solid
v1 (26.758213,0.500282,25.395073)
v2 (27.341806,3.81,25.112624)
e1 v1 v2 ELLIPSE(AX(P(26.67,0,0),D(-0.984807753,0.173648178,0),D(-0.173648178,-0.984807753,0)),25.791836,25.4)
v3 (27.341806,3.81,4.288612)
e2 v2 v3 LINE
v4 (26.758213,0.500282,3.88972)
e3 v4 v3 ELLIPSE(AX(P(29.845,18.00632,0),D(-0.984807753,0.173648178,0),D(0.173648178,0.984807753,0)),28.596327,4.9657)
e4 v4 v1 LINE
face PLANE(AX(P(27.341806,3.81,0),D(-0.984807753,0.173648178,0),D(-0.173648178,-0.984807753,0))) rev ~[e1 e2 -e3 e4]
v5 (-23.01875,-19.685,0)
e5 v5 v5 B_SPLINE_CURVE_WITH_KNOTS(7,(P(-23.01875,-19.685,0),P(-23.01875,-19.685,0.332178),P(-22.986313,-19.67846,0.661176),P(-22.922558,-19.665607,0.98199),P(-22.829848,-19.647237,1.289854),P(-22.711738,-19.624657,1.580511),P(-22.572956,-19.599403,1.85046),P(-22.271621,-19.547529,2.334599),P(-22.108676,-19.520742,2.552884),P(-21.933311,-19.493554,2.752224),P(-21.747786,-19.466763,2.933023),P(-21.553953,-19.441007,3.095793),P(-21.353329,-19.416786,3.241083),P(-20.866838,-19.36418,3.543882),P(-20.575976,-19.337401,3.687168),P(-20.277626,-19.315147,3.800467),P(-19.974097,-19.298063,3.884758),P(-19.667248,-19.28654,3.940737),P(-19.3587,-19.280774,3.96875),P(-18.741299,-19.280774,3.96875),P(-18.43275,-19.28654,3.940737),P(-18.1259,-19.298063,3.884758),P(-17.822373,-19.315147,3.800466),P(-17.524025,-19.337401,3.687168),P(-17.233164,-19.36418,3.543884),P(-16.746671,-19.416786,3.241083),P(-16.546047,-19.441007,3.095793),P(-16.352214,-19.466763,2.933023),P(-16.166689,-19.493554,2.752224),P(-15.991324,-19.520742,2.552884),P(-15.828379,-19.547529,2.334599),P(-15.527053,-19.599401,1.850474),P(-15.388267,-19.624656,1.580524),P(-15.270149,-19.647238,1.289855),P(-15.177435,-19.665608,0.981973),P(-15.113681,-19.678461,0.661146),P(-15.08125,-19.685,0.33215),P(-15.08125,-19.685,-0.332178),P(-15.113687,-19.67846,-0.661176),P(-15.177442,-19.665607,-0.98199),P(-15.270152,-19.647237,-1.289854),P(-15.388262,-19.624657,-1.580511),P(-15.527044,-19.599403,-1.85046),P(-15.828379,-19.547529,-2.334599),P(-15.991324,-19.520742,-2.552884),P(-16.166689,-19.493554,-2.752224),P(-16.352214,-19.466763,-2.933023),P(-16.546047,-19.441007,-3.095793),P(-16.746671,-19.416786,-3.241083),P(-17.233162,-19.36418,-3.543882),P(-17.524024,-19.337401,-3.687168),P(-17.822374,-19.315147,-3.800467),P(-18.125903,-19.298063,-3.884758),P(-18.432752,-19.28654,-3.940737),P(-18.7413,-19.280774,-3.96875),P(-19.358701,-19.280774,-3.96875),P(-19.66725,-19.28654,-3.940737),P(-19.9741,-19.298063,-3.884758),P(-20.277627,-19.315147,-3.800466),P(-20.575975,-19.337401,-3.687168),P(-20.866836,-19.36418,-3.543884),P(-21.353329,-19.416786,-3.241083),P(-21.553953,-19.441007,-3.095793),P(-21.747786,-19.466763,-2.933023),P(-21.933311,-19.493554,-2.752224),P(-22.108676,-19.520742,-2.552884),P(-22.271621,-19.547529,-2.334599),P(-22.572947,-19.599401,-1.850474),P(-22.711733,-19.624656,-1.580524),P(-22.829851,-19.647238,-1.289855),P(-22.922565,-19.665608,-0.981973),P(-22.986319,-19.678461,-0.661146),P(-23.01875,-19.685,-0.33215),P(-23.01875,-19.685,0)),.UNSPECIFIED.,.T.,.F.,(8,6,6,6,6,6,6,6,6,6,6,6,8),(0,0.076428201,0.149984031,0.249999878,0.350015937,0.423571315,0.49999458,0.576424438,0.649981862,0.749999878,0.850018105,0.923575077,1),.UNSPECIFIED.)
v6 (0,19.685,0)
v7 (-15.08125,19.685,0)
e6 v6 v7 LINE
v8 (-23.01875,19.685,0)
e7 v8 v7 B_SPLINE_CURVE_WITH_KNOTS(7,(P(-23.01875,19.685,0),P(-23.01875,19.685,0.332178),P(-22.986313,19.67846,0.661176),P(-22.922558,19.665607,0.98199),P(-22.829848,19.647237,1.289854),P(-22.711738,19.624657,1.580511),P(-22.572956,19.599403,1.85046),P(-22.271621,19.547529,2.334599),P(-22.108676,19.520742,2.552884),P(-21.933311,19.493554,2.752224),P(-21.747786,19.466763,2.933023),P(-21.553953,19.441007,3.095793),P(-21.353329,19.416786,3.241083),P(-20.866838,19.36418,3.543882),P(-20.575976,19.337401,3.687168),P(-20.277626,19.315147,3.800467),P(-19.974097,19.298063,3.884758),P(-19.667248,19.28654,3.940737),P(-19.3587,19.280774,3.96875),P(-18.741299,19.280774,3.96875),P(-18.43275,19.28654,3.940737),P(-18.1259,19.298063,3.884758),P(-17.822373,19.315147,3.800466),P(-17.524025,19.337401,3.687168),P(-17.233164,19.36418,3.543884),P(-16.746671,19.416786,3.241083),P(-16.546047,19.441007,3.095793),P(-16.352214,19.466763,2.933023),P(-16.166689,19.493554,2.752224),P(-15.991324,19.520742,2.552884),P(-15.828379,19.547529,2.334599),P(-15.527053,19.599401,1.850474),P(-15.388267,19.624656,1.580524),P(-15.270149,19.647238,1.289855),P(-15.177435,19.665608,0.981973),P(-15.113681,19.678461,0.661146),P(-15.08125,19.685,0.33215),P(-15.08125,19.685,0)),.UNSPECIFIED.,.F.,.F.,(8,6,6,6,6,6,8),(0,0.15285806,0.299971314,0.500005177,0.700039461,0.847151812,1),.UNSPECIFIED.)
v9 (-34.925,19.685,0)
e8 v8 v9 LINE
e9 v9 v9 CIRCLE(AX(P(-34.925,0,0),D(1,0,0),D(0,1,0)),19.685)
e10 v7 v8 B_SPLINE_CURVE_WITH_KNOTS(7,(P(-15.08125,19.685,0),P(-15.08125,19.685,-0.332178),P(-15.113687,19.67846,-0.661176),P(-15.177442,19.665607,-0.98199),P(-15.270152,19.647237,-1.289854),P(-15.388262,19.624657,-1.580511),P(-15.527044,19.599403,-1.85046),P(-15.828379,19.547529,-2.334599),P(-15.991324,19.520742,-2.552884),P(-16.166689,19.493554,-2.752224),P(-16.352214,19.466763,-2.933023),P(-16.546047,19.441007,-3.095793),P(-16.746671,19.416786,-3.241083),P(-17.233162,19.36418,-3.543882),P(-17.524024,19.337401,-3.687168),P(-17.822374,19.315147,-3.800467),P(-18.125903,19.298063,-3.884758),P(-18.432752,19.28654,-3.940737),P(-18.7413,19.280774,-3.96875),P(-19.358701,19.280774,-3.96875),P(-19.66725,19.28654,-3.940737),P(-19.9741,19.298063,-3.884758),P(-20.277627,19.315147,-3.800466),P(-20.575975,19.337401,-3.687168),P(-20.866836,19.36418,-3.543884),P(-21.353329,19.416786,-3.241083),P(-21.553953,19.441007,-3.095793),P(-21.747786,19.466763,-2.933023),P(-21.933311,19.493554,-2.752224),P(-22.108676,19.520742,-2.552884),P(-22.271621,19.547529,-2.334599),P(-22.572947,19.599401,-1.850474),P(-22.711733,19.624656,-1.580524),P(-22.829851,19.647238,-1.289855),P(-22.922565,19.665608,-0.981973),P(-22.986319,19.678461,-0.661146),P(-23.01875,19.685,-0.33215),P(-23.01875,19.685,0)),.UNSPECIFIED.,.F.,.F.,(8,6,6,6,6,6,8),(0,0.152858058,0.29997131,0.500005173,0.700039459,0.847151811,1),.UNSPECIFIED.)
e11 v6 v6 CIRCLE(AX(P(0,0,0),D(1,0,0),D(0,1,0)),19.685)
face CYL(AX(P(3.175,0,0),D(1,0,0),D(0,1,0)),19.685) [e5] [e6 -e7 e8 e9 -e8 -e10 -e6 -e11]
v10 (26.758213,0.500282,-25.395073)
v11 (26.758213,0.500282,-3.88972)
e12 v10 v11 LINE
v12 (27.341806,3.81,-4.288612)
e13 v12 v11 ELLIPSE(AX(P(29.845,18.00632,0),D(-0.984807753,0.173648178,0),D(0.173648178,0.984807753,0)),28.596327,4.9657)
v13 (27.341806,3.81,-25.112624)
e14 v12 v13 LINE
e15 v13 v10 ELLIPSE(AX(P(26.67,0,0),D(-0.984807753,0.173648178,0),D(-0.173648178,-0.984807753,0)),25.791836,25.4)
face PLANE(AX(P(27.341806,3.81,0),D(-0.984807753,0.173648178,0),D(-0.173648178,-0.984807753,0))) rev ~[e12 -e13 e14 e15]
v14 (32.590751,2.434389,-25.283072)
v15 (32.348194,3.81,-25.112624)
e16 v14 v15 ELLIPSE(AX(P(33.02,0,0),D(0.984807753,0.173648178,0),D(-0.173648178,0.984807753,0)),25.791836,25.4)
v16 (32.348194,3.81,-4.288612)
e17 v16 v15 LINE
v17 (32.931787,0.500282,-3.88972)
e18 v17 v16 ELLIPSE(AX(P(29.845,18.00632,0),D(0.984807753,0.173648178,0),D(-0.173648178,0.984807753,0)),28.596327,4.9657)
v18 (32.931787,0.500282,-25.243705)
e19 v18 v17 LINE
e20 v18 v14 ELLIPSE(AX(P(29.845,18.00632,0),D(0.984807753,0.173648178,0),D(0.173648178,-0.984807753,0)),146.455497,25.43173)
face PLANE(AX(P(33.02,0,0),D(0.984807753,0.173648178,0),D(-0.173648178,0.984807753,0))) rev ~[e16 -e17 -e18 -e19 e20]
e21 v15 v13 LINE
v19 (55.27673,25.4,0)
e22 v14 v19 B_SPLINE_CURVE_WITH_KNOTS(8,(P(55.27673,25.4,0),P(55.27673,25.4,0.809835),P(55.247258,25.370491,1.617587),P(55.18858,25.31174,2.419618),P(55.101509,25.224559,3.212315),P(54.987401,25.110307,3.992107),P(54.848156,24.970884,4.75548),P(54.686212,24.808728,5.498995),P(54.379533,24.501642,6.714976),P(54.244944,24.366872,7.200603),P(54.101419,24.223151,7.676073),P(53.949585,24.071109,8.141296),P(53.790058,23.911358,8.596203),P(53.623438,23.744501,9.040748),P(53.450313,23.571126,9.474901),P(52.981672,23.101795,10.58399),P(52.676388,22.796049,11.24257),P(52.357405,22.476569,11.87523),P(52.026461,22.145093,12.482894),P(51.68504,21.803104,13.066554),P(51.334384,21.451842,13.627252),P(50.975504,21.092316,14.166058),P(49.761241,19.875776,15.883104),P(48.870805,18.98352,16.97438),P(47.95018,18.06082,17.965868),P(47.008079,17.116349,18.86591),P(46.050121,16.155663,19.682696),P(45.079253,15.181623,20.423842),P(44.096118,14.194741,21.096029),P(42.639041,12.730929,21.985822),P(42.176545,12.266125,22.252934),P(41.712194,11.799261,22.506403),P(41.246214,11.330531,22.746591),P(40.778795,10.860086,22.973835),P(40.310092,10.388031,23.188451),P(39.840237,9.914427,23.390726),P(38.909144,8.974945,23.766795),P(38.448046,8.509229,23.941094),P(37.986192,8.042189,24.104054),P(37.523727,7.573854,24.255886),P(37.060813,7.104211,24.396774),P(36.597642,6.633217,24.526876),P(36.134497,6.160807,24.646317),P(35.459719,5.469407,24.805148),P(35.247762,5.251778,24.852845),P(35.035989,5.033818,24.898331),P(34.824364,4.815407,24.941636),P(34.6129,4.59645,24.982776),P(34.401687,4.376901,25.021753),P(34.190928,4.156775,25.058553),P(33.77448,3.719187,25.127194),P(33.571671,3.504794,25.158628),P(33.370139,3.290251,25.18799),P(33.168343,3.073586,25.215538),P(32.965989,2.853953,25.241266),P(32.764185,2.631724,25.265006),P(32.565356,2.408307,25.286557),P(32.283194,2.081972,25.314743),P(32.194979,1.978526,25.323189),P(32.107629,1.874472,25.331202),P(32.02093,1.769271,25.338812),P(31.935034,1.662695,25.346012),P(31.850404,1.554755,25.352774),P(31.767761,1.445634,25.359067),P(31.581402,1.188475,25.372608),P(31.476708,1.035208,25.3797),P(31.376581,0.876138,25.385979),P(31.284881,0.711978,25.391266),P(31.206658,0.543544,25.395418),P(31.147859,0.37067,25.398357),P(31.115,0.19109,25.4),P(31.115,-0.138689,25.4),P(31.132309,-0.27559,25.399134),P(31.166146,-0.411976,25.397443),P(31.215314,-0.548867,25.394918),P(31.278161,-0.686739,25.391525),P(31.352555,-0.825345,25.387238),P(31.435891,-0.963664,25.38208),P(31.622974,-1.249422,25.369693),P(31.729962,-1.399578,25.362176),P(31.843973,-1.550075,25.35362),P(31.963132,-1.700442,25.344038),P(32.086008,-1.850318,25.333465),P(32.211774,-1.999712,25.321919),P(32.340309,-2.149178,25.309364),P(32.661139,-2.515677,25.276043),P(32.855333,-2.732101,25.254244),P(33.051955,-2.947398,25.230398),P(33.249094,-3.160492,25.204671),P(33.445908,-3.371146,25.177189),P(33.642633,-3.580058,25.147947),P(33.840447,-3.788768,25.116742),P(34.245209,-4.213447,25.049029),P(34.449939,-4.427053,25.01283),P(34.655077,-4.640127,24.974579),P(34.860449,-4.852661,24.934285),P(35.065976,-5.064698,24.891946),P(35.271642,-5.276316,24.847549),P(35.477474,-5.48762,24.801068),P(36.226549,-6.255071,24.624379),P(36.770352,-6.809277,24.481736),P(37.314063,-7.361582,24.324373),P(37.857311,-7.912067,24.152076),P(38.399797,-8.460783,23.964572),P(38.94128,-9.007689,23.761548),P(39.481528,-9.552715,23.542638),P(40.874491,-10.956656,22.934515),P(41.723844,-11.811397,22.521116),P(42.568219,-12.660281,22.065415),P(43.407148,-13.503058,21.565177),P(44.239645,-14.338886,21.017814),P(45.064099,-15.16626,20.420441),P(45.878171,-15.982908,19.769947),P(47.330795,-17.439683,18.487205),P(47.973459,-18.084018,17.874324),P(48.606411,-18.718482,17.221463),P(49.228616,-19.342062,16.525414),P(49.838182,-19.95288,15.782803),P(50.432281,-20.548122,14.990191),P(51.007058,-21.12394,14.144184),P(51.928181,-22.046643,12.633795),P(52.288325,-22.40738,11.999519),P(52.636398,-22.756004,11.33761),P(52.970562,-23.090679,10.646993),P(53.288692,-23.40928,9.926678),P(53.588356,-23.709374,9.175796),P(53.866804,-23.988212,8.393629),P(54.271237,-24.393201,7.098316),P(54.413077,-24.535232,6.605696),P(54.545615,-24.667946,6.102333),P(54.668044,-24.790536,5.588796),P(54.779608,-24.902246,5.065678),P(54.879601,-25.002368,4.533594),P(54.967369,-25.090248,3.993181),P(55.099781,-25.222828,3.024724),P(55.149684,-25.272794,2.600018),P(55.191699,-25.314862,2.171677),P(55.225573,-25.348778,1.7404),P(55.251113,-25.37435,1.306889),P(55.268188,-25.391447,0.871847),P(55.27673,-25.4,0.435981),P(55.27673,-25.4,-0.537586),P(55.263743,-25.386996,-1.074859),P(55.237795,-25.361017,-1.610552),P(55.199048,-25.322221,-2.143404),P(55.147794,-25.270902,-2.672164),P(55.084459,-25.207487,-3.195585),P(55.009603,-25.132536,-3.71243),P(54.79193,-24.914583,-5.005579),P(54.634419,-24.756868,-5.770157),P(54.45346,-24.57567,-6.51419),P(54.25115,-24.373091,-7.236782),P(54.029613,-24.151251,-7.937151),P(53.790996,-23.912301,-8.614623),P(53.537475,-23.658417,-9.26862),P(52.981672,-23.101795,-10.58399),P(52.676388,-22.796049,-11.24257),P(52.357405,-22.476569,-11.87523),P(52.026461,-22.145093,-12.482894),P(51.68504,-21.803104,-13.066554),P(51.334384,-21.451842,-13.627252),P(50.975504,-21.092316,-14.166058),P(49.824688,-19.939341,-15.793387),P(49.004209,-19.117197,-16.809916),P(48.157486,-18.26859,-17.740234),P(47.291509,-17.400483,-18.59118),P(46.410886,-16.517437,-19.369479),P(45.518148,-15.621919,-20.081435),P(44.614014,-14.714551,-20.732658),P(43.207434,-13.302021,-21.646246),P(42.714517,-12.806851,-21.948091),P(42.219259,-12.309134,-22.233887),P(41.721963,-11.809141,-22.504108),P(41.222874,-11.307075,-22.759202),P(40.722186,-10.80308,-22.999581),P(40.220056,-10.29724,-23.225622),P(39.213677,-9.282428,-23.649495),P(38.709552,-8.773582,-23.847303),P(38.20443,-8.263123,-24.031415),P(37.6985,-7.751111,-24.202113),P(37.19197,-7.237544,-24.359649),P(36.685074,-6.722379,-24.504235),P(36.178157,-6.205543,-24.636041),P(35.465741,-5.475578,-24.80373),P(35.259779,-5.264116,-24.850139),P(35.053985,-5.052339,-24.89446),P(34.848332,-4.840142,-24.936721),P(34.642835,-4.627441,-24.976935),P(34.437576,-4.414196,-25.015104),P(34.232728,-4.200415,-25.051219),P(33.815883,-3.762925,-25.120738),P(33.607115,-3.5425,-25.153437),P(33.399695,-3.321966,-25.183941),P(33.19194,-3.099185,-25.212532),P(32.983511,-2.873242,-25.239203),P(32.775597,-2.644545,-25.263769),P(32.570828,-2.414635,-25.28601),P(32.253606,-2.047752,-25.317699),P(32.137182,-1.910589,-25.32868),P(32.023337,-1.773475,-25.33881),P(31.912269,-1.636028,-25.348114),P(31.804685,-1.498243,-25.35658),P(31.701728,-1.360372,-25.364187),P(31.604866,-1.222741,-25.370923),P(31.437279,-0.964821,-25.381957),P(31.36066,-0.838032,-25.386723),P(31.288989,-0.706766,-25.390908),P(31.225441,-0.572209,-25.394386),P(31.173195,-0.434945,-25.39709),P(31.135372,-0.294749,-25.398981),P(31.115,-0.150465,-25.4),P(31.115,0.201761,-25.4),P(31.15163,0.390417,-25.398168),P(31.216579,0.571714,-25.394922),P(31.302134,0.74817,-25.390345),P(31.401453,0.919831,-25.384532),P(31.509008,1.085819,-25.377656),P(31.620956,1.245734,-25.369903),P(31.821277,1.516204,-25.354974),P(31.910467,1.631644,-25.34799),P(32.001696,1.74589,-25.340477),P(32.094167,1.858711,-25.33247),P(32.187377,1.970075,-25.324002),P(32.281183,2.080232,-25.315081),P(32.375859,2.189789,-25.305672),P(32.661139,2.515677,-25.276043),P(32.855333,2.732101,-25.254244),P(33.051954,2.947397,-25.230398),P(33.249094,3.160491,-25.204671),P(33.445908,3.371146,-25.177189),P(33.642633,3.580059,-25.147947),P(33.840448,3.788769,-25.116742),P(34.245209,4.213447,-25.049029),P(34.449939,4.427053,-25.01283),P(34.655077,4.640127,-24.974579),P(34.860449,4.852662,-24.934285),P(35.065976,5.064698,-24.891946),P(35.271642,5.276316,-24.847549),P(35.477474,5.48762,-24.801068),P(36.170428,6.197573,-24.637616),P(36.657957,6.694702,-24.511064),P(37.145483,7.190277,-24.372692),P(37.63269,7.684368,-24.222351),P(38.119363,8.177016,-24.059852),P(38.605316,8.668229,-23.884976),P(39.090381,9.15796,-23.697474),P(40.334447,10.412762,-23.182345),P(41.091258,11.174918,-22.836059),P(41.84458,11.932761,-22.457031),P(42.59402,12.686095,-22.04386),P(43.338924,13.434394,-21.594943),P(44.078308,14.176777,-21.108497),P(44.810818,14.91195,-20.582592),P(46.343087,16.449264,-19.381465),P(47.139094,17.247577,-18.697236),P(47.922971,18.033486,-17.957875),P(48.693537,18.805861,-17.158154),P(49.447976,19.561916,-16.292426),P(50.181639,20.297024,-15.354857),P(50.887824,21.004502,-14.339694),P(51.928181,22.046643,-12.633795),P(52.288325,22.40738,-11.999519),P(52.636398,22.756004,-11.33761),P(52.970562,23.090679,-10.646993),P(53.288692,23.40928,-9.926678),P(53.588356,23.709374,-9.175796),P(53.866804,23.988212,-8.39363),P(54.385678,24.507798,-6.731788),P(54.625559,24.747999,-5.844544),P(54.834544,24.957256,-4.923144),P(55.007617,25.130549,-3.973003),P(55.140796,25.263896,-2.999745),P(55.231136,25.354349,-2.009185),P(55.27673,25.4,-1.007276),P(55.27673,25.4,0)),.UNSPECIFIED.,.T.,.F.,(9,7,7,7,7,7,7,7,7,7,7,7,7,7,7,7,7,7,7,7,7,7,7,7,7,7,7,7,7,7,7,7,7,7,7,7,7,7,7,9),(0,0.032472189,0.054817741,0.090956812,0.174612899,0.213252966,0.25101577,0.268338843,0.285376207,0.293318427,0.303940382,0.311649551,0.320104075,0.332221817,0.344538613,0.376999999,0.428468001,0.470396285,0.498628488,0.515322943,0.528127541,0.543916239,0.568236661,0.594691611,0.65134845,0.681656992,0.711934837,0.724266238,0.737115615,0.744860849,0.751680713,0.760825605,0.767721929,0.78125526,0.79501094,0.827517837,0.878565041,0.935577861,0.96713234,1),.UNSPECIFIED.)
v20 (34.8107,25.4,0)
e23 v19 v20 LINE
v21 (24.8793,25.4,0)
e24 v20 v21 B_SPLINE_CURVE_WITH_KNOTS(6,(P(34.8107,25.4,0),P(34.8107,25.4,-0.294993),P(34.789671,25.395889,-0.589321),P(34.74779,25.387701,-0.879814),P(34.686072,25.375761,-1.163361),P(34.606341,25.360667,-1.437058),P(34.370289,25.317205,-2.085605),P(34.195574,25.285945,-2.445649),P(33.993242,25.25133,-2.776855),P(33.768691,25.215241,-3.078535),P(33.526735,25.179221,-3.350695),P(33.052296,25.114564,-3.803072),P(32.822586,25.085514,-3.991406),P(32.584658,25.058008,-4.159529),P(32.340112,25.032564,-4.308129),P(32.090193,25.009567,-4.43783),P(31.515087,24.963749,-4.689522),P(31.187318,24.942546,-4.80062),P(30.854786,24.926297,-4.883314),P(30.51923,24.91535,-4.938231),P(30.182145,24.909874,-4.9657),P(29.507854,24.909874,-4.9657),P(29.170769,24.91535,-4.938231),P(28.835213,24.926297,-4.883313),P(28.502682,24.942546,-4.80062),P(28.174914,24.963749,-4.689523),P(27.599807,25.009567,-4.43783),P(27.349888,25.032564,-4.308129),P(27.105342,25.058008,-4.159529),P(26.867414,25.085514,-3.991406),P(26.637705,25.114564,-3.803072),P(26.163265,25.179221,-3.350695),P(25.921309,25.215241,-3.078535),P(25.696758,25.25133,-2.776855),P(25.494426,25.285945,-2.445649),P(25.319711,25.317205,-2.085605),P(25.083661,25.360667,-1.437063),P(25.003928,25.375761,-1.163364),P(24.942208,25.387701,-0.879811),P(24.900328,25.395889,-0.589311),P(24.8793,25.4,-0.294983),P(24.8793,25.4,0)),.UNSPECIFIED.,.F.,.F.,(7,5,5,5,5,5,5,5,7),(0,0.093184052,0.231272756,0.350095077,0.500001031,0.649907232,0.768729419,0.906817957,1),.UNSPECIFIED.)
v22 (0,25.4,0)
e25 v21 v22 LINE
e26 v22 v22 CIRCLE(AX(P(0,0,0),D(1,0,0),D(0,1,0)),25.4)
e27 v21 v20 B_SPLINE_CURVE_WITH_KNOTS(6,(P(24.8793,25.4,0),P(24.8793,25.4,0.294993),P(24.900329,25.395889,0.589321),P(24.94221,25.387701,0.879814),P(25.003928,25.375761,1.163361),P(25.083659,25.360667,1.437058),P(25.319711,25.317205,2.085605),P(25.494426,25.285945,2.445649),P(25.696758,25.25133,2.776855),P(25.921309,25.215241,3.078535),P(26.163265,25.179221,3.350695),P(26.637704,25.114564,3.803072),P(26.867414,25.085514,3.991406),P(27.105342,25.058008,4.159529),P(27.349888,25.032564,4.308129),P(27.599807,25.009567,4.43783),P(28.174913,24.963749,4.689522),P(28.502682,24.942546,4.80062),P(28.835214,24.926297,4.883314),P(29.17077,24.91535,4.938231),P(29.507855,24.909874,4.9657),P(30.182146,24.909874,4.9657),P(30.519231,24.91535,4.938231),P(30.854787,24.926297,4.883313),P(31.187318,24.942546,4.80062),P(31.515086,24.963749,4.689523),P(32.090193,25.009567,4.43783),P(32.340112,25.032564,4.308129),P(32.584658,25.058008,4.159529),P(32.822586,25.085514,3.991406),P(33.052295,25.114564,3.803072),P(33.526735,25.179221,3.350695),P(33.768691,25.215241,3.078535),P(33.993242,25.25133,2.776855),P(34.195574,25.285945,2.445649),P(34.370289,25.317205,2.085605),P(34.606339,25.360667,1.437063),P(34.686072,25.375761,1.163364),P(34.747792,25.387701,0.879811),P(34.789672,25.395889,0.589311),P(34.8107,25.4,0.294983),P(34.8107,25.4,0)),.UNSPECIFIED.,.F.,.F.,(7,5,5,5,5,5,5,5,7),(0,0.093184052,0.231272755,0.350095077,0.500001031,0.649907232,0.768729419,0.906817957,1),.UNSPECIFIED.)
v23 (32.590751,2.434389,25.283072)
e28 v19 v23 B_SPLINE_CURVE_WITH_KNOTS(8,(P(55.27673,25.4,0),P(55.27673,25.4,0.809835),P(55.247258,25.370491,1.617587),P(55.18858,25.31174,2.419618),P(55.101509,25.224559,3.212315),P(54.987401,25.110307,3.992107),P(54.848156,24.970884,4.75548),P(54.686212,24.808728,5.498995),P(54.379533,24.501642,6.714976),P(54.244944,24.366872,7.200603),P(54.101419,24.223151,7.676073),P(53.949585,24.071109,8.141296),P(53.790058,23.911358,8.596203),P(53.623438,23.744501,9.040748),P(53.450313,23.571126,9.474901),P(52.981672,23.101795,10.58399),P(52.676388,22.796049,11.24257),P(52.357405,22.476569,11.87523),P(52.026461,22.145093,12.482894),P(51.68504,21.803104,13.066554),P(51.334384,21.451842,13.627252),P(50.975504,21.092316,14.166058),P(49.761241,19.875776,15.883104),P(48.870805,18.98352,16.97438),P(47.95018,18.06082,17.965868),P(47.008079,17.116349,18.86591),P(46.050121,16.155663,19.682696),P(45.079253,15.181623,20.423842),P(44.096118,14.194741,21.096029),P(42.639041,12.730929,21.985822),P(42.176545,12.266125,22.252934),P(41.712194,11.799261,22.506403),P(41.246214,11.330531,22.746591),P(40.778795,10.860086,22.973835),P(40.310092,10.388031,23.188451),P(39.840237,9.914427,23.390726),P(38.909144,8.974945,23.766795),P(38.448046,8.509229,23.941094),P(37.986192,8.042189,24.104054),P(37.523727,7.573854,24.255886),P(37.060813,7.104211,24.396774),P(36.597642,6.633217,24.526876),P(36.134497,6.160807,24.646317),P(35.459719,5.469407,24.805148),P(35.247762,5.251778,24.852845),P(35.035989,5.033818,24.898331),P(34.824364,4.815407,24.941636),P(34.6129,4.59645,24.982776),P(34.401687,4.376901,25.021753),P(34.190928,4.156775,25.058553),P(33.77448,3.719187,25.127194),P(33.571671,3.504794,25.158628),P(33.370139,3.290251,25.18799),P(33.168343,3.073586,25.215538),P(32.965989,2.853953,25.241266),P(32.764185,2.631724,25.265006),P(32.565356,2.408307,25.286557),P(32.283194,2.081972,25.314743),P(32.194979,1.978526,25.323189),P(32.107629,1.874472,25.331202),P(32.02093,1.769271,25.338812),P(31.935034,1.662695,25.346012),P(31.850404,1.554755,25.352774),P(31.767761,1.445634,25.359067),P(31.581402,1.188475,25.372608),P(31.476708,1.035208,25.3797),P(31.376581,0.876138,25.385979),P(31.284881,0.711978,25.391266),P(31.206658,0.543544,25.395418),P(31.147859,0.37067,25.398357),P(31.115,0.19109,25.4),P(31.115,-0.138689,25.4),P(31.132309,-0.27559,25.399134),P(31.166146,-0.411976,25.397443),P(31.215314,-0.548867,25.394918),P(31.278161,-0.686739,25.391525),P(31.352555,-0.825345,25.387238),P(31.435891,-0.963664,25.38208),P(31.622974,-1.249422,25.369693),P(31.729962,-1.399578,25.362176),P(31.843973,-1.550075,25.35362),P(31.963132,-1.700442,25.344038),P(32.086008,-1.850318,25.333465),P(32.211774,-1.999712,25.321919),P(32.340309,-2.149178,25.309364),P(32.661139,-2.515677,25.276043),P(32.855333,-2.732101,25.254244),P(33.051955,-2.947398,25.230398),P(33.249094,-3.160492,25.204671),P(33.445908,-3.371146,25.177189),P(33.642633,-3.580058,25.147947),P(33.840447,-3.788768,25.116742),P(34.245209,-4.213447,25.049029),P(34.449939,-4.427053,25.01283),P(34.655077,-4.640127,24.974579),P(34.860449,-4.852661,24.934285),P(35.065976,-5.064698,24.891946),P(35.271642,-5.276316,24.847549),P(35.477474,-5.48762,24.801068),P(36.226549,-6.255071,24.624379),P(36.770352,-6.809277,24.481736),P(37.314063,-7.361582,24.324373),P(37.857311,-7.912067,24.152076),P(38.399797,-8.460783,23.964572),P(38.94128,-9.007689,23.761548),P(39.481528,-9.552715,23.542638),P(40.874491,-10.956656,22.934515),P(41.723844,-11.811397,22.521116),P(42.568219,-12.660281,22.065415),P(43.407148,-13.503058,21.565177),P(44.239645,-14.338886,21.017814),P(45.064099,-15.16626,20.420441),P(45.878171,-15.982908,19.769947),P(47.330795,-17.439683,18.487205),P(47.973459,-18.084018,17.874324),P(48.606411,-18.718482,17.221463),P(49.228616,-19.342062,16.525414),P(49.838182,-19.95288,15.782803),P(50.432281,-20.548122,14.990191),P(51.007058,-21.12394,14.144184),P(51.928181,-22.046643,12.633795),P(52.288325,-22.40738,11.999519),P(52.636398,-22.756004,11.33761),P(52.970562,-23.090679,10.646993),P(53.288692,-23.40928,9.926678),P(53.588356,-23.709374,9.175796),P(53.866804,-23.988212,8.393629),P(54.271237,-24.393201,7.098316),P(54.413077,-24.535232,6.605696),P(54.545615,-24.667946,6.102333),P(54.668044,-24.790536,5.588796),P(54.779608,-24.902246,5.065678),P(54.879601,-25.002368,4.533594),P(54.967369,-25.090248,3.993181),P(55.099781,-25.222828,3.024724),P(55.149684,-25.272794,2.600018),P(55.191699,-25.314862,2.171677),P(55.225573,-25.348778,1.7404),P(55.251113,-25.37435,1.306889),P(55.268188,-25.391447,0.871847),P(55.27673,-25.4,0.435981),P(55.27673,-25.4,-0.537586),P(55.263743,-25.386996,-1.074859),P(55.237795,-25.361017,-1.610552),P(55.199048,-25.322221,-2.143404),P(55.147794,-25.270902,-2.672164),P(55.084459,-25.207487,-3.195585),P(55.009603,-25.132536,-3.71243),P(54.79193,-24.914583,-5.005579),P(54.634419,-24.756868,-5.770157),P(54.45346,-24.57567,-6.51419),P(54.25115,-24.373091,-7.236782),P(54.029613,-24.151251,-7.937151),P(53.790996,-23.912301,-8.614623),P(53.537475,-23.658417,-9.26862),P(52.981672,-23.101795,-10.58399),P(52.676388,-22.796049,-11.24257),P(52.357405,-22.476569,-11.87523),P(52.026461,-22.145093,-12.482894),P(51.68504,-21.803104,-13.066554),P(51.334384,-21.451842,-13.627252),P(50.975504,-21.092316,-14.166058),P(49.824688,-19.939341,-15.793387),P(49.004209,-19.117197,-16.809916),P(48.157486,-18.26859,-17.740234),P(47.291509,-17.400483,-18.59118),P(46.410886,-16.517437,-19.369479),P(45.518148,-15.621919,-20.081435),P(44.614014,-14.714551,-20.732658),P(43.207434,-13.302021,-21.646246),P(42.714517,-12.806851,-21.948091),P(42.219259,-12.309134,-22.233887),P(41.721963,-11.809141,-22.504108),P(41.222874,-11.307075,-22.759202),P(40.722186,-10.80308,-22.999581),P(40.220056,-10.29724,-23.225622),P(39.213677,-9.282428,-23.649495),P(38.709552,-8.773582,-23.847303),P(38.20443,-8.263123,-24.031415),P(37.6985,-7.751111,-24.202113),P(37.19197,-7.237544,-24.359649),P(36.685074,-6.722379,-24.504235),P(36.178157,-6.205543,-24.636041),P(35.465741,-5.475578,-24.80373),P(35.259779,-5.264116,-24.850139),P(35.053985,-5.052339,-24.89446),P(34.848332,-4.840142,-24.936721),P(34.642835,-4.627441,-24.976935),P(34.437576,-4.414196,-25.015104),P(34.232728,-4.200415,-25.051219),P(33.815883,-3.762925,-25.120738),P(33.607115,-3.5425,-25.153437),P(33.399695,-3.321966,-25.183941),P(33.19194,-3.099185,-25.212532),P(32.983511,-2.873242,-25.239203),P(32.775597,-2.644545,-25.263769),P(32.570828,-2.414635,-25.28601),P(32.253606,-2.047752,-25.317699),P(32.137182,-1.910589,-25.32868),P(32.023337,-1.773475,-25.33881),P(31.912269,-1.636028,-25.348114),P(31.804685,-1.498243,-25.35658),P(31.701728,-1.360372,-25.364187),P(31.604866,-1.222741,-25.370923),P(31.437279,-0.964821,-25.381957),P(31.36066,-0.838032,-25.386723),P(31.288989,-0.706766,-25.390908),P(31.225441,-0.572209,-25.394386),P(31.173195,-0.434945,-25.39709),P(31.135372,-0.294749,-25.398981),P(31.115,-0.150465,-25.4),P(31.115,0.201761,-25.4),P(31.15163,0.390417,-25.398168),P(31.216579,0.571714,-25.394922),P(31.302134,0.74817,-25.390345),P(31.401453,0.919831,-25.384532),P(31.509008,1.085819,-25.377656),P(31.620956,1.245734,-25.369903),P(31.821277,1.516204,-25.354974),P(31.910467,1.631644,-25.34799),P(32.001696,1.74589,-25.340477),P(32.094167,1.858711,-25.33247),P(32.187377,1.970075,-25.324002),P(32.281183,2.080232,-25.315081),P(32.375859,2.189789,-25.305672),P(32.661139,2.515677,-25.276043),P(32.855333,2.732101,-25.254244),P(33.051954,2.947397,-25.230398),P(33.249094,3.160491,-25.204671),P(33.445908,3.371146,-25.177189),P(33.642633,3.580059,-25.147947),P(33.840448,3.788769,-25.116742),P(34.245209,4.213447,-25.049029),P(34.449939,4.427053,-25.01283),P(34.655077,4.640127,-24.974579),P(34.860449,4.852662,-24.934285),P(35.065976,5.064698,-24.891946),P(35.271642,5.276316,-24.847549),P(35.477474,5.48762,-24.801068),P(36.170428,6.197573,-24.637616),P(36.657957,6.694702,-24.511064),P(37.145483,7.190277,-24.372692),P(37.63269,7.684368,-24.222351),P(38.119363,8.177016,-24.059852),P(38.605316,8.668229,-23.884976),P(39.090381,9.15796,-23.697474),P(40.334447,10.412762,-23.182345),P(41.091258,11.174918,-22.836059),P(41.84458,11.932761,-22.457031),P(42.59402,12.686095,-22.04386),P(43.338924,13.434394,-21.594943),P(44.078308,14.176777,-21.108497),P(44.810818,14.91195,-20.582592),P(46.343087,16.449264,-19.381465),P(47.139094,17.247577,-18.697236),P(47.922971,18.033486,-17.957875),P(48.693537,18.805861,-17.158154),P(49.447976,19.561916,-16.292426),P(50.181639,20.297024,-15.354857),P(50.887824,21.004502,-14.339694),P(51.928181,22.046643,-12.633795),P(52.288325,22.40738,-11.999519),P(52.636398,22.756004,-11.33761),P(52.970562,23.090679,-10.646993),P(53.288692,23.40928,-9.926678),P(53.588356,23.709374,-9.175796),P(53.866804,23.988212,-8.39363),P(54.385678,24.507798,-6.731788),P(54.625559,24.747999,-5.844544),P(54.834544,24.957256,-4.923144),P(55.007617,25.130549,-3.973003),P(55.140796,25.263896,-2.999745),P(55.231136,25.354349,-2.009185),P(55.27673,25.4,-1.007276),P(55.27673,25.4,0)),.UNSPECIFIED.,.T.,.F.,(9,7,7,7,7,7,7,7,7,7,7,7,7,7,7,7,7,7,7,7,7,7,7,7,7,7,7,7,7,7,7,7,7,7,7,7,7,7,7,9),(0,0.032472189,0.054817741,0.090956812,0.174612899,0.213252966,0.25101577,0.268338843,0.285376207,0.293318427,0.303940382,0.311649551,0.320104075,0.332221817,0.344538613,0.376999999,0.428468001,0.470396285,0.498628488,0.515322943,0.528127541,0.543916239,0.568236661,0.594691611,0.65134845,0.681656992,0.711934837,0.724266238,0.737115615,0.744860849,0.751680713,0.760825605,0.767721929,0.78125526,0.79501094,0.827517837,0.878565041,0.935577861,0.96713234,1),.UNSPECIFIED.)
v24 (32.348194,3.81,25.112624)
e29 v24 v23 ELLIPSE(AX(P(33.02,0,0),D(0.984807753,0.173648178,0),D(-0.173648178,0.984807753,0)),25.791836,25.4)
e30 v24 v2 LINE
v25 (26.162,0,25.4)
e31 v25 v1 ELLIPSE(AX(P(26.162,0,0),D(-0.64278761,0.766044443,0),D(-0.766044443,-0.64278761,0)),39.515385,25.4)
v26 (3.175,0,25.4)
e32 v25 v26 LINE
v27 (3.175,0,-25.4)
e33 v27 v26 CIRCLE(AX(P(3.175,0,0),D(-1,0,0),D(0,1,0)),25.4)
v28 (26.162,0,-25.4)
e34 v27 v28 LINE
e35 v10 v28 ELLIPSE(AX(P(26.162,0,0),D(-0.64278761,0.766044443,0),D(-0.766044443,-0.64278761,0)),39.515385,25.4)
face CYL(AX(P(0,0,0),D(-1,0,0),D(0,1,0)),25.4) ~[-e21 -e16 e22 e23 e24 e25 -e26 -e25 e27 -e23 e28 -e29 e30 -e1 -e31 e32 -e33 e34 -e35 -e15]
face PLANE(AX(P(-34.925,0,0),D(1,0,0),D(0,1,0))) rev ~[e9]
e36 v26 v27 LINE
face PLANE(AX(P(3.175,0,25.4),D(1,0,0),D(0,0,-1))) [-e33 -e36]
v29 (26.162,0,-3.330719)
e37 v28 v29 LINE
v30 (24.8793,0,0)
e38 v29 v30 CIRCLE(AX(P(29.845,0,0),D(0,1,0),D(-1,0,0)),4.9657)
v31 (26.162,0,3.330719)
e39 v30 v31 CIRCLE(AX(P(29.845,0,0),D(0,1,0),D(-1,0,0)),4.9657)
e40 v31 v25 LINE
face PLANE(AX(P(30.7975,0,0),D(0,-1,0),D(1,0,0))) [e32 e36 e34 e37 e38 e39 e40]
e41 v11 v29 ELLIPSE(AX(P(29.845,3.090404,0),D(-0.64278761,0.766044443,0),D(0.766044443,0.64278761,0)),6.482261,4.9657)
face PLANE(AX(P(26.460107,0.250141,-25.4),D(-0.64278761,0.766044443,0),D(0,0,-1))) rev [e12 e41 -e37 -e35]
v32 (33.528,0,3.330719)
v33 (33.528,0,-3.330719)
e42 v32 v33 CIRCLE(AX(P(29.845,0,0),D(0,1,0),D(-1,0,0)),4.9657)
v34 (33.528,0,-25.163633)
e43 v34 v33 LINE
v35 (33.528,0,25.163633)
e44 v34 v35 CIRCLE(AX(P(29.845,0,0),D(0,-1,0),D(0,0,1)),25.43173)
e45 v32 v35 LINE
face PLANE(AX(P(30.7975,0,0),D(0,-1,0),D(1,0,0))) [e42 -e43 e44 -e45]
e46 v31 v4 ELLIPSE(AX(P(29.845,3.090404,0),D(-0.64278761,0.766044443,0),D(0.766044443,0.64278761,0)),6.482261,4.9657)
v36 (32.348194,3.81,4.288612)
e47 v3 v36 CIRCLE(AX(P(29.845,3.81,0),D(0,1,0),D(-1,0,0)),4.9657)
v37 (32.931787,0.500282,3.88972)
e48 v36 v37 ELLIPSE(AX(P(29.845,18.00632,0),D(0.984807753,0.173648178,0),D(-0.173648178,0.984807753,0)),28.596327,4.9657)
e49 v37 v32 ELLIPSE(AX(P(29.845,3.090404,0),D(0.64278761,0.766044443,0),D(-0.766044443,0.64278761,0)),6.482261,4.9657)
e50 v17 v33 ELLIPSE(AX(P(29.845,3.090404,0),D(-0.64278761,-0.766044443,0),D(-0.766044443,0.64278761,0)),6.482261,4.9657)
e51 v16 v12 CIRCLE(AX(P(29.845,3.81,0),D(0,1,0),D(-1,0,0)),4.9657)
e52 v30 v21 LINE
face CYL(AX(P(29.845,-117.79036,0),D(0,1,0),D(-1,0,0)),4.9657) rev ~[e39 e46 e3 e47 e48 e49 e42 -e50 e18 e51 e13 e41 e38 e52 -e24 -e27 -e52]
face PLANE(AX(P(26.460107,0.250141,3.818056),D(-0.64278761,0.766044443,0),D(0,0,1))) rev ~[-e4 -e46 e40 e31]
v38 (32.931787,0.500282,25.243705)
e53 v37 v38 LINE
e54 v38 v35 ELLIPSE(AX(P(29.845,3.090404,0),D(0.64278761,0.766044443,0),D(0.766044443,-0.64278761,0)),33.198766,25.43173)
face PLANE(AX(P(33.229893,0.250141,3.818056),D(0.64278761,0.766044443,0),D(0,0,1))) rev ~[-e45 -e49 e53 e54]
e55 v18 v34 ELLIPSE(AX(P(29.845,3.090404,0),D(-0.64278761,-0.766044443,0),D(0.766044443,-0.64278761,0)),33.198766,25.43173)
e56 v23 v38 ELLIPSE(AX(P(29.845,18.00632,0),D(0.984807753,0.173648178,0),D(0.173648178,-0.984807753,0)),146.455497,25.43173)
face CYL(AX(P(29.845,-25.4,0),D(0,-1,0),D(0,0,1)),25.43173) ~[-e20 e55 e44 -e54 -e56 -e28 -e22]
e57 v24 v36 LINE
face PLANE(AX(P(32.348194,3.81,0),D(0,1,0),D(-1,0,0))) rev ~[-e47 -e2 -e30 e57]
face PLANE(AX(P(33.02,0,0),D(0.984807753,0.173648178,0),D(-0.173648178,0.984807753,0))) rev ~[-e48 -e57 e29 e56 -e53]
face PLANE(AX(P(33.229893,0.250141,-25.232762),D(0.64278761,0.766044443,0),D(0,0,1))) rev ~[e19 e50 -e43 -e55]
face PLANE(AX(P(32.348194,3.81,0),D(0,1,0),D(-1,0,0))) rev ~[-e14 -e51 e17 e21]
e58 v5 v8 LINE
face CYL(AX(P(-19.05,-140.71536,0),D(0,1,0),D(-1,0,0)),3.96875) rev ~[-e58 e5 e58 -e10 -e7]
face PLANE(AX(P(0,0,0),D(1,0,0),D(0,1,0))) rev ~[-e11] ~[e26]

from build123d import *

# Parameters (mm, degrees)
F0_R      = 25.4
F1_DEPTH  = 3.175
F2_R      = 19.685
F3_DEPTH  = 38.1
F4_R      = 25.4
F5_DEPTH  = 58.42
F7_DEPTH  = 25.401
F10_D     = 9.9314
F12_DEPTH = 25.4
F15_DEPTH = 50.8010001
F16_SIZE  = 0.508
F18_D     = 7.9375


with BuildPart() as f1:
    # F0 (on Right) → F1 (new body)
    with BuildSketch(Plane.YZ):
        Circle(F0_R)
    extrude(amount=F1_DEPTH)

    # F2 (on face) → F3 (join)
    with BuildSketch(Plane.YZ.offset(3.175)):
        Circle(F2_R)
    extrude(amount=-F3_DEPTH)

    # F4 (on Right) → F5 (join)
    with BuildSketch(Plane.YZ):
        Circle(F4_R)
    extrude(amount=F5_DEPTH)

    # F6 (on Front) → F7 (cut, through all)
    with BuildSketch(Plane.XZ):
        Polygon((50.8, 25.4), (3.175, 25.4), (3.175, -25.4), (58.42, -25.4), (58.42, 25.4), align=None)
    extrude(amount=F7_DEPTH, mode=Mode.SUBTRACT)

    # F10 (through all)
    with Locations(Plane.XZ):
        with Locations((29.845, 0)):
            Hole(F10_D / 2)

    # F11 (on Top) → F12 (cut, symmetric)
    with BuildSketch(Plane.XY):
        Polygon((27.3418057965, 3.81), (26.67, 0), (33.02, 0), (32.3481942035, 3.81), align=None)
    extrude(amount=F12_DEPTH, both=True, mode=Mode.SUBTRACT)

    # F14 (on offset) → F15 (cut, through all)
    with BuildSketch(Plane.XZ.offset(25.4)):
        with BuildLine():
            ThreePointArc((29.845, 25.431730181), (55.276730181, 0), (29.845, -25.431730181))
            Line((29.845, -25.431730181), (29.845, -32.23392232))
            Line((29.845, -32.23392232), (58.42, -32.23392232))
            Line((58.42, -32.23392232), (58.42, 32.23392232))
            Line((58.42, 32.23392232), (29.845, 32.23392232))
            Line((29.845, 32.23392232), (29.845, 25.431730181))
        make_face()
    extrude(amount=-F15_DEPTH, mode=Mode.SUBTRACT)

    # F16
    f16_edges = [f1.edges().sort_by_distance(p)[0] for p in [
        (26.67, 0, -14.609028),
        (26.67, 0, 14.609028),
        (33.02, 0, -14.525409),
        (33.02, 0, 14.525409),
    ]]
    chamfer(f16_edges, length=F16_SIZE)

    # F18 (through all)
    with Locations(Plane.XZ.offset(25.4)):
        with Locations((-19.05, 0)):
            Hole(F18_D / 2)


solid = f1.part
